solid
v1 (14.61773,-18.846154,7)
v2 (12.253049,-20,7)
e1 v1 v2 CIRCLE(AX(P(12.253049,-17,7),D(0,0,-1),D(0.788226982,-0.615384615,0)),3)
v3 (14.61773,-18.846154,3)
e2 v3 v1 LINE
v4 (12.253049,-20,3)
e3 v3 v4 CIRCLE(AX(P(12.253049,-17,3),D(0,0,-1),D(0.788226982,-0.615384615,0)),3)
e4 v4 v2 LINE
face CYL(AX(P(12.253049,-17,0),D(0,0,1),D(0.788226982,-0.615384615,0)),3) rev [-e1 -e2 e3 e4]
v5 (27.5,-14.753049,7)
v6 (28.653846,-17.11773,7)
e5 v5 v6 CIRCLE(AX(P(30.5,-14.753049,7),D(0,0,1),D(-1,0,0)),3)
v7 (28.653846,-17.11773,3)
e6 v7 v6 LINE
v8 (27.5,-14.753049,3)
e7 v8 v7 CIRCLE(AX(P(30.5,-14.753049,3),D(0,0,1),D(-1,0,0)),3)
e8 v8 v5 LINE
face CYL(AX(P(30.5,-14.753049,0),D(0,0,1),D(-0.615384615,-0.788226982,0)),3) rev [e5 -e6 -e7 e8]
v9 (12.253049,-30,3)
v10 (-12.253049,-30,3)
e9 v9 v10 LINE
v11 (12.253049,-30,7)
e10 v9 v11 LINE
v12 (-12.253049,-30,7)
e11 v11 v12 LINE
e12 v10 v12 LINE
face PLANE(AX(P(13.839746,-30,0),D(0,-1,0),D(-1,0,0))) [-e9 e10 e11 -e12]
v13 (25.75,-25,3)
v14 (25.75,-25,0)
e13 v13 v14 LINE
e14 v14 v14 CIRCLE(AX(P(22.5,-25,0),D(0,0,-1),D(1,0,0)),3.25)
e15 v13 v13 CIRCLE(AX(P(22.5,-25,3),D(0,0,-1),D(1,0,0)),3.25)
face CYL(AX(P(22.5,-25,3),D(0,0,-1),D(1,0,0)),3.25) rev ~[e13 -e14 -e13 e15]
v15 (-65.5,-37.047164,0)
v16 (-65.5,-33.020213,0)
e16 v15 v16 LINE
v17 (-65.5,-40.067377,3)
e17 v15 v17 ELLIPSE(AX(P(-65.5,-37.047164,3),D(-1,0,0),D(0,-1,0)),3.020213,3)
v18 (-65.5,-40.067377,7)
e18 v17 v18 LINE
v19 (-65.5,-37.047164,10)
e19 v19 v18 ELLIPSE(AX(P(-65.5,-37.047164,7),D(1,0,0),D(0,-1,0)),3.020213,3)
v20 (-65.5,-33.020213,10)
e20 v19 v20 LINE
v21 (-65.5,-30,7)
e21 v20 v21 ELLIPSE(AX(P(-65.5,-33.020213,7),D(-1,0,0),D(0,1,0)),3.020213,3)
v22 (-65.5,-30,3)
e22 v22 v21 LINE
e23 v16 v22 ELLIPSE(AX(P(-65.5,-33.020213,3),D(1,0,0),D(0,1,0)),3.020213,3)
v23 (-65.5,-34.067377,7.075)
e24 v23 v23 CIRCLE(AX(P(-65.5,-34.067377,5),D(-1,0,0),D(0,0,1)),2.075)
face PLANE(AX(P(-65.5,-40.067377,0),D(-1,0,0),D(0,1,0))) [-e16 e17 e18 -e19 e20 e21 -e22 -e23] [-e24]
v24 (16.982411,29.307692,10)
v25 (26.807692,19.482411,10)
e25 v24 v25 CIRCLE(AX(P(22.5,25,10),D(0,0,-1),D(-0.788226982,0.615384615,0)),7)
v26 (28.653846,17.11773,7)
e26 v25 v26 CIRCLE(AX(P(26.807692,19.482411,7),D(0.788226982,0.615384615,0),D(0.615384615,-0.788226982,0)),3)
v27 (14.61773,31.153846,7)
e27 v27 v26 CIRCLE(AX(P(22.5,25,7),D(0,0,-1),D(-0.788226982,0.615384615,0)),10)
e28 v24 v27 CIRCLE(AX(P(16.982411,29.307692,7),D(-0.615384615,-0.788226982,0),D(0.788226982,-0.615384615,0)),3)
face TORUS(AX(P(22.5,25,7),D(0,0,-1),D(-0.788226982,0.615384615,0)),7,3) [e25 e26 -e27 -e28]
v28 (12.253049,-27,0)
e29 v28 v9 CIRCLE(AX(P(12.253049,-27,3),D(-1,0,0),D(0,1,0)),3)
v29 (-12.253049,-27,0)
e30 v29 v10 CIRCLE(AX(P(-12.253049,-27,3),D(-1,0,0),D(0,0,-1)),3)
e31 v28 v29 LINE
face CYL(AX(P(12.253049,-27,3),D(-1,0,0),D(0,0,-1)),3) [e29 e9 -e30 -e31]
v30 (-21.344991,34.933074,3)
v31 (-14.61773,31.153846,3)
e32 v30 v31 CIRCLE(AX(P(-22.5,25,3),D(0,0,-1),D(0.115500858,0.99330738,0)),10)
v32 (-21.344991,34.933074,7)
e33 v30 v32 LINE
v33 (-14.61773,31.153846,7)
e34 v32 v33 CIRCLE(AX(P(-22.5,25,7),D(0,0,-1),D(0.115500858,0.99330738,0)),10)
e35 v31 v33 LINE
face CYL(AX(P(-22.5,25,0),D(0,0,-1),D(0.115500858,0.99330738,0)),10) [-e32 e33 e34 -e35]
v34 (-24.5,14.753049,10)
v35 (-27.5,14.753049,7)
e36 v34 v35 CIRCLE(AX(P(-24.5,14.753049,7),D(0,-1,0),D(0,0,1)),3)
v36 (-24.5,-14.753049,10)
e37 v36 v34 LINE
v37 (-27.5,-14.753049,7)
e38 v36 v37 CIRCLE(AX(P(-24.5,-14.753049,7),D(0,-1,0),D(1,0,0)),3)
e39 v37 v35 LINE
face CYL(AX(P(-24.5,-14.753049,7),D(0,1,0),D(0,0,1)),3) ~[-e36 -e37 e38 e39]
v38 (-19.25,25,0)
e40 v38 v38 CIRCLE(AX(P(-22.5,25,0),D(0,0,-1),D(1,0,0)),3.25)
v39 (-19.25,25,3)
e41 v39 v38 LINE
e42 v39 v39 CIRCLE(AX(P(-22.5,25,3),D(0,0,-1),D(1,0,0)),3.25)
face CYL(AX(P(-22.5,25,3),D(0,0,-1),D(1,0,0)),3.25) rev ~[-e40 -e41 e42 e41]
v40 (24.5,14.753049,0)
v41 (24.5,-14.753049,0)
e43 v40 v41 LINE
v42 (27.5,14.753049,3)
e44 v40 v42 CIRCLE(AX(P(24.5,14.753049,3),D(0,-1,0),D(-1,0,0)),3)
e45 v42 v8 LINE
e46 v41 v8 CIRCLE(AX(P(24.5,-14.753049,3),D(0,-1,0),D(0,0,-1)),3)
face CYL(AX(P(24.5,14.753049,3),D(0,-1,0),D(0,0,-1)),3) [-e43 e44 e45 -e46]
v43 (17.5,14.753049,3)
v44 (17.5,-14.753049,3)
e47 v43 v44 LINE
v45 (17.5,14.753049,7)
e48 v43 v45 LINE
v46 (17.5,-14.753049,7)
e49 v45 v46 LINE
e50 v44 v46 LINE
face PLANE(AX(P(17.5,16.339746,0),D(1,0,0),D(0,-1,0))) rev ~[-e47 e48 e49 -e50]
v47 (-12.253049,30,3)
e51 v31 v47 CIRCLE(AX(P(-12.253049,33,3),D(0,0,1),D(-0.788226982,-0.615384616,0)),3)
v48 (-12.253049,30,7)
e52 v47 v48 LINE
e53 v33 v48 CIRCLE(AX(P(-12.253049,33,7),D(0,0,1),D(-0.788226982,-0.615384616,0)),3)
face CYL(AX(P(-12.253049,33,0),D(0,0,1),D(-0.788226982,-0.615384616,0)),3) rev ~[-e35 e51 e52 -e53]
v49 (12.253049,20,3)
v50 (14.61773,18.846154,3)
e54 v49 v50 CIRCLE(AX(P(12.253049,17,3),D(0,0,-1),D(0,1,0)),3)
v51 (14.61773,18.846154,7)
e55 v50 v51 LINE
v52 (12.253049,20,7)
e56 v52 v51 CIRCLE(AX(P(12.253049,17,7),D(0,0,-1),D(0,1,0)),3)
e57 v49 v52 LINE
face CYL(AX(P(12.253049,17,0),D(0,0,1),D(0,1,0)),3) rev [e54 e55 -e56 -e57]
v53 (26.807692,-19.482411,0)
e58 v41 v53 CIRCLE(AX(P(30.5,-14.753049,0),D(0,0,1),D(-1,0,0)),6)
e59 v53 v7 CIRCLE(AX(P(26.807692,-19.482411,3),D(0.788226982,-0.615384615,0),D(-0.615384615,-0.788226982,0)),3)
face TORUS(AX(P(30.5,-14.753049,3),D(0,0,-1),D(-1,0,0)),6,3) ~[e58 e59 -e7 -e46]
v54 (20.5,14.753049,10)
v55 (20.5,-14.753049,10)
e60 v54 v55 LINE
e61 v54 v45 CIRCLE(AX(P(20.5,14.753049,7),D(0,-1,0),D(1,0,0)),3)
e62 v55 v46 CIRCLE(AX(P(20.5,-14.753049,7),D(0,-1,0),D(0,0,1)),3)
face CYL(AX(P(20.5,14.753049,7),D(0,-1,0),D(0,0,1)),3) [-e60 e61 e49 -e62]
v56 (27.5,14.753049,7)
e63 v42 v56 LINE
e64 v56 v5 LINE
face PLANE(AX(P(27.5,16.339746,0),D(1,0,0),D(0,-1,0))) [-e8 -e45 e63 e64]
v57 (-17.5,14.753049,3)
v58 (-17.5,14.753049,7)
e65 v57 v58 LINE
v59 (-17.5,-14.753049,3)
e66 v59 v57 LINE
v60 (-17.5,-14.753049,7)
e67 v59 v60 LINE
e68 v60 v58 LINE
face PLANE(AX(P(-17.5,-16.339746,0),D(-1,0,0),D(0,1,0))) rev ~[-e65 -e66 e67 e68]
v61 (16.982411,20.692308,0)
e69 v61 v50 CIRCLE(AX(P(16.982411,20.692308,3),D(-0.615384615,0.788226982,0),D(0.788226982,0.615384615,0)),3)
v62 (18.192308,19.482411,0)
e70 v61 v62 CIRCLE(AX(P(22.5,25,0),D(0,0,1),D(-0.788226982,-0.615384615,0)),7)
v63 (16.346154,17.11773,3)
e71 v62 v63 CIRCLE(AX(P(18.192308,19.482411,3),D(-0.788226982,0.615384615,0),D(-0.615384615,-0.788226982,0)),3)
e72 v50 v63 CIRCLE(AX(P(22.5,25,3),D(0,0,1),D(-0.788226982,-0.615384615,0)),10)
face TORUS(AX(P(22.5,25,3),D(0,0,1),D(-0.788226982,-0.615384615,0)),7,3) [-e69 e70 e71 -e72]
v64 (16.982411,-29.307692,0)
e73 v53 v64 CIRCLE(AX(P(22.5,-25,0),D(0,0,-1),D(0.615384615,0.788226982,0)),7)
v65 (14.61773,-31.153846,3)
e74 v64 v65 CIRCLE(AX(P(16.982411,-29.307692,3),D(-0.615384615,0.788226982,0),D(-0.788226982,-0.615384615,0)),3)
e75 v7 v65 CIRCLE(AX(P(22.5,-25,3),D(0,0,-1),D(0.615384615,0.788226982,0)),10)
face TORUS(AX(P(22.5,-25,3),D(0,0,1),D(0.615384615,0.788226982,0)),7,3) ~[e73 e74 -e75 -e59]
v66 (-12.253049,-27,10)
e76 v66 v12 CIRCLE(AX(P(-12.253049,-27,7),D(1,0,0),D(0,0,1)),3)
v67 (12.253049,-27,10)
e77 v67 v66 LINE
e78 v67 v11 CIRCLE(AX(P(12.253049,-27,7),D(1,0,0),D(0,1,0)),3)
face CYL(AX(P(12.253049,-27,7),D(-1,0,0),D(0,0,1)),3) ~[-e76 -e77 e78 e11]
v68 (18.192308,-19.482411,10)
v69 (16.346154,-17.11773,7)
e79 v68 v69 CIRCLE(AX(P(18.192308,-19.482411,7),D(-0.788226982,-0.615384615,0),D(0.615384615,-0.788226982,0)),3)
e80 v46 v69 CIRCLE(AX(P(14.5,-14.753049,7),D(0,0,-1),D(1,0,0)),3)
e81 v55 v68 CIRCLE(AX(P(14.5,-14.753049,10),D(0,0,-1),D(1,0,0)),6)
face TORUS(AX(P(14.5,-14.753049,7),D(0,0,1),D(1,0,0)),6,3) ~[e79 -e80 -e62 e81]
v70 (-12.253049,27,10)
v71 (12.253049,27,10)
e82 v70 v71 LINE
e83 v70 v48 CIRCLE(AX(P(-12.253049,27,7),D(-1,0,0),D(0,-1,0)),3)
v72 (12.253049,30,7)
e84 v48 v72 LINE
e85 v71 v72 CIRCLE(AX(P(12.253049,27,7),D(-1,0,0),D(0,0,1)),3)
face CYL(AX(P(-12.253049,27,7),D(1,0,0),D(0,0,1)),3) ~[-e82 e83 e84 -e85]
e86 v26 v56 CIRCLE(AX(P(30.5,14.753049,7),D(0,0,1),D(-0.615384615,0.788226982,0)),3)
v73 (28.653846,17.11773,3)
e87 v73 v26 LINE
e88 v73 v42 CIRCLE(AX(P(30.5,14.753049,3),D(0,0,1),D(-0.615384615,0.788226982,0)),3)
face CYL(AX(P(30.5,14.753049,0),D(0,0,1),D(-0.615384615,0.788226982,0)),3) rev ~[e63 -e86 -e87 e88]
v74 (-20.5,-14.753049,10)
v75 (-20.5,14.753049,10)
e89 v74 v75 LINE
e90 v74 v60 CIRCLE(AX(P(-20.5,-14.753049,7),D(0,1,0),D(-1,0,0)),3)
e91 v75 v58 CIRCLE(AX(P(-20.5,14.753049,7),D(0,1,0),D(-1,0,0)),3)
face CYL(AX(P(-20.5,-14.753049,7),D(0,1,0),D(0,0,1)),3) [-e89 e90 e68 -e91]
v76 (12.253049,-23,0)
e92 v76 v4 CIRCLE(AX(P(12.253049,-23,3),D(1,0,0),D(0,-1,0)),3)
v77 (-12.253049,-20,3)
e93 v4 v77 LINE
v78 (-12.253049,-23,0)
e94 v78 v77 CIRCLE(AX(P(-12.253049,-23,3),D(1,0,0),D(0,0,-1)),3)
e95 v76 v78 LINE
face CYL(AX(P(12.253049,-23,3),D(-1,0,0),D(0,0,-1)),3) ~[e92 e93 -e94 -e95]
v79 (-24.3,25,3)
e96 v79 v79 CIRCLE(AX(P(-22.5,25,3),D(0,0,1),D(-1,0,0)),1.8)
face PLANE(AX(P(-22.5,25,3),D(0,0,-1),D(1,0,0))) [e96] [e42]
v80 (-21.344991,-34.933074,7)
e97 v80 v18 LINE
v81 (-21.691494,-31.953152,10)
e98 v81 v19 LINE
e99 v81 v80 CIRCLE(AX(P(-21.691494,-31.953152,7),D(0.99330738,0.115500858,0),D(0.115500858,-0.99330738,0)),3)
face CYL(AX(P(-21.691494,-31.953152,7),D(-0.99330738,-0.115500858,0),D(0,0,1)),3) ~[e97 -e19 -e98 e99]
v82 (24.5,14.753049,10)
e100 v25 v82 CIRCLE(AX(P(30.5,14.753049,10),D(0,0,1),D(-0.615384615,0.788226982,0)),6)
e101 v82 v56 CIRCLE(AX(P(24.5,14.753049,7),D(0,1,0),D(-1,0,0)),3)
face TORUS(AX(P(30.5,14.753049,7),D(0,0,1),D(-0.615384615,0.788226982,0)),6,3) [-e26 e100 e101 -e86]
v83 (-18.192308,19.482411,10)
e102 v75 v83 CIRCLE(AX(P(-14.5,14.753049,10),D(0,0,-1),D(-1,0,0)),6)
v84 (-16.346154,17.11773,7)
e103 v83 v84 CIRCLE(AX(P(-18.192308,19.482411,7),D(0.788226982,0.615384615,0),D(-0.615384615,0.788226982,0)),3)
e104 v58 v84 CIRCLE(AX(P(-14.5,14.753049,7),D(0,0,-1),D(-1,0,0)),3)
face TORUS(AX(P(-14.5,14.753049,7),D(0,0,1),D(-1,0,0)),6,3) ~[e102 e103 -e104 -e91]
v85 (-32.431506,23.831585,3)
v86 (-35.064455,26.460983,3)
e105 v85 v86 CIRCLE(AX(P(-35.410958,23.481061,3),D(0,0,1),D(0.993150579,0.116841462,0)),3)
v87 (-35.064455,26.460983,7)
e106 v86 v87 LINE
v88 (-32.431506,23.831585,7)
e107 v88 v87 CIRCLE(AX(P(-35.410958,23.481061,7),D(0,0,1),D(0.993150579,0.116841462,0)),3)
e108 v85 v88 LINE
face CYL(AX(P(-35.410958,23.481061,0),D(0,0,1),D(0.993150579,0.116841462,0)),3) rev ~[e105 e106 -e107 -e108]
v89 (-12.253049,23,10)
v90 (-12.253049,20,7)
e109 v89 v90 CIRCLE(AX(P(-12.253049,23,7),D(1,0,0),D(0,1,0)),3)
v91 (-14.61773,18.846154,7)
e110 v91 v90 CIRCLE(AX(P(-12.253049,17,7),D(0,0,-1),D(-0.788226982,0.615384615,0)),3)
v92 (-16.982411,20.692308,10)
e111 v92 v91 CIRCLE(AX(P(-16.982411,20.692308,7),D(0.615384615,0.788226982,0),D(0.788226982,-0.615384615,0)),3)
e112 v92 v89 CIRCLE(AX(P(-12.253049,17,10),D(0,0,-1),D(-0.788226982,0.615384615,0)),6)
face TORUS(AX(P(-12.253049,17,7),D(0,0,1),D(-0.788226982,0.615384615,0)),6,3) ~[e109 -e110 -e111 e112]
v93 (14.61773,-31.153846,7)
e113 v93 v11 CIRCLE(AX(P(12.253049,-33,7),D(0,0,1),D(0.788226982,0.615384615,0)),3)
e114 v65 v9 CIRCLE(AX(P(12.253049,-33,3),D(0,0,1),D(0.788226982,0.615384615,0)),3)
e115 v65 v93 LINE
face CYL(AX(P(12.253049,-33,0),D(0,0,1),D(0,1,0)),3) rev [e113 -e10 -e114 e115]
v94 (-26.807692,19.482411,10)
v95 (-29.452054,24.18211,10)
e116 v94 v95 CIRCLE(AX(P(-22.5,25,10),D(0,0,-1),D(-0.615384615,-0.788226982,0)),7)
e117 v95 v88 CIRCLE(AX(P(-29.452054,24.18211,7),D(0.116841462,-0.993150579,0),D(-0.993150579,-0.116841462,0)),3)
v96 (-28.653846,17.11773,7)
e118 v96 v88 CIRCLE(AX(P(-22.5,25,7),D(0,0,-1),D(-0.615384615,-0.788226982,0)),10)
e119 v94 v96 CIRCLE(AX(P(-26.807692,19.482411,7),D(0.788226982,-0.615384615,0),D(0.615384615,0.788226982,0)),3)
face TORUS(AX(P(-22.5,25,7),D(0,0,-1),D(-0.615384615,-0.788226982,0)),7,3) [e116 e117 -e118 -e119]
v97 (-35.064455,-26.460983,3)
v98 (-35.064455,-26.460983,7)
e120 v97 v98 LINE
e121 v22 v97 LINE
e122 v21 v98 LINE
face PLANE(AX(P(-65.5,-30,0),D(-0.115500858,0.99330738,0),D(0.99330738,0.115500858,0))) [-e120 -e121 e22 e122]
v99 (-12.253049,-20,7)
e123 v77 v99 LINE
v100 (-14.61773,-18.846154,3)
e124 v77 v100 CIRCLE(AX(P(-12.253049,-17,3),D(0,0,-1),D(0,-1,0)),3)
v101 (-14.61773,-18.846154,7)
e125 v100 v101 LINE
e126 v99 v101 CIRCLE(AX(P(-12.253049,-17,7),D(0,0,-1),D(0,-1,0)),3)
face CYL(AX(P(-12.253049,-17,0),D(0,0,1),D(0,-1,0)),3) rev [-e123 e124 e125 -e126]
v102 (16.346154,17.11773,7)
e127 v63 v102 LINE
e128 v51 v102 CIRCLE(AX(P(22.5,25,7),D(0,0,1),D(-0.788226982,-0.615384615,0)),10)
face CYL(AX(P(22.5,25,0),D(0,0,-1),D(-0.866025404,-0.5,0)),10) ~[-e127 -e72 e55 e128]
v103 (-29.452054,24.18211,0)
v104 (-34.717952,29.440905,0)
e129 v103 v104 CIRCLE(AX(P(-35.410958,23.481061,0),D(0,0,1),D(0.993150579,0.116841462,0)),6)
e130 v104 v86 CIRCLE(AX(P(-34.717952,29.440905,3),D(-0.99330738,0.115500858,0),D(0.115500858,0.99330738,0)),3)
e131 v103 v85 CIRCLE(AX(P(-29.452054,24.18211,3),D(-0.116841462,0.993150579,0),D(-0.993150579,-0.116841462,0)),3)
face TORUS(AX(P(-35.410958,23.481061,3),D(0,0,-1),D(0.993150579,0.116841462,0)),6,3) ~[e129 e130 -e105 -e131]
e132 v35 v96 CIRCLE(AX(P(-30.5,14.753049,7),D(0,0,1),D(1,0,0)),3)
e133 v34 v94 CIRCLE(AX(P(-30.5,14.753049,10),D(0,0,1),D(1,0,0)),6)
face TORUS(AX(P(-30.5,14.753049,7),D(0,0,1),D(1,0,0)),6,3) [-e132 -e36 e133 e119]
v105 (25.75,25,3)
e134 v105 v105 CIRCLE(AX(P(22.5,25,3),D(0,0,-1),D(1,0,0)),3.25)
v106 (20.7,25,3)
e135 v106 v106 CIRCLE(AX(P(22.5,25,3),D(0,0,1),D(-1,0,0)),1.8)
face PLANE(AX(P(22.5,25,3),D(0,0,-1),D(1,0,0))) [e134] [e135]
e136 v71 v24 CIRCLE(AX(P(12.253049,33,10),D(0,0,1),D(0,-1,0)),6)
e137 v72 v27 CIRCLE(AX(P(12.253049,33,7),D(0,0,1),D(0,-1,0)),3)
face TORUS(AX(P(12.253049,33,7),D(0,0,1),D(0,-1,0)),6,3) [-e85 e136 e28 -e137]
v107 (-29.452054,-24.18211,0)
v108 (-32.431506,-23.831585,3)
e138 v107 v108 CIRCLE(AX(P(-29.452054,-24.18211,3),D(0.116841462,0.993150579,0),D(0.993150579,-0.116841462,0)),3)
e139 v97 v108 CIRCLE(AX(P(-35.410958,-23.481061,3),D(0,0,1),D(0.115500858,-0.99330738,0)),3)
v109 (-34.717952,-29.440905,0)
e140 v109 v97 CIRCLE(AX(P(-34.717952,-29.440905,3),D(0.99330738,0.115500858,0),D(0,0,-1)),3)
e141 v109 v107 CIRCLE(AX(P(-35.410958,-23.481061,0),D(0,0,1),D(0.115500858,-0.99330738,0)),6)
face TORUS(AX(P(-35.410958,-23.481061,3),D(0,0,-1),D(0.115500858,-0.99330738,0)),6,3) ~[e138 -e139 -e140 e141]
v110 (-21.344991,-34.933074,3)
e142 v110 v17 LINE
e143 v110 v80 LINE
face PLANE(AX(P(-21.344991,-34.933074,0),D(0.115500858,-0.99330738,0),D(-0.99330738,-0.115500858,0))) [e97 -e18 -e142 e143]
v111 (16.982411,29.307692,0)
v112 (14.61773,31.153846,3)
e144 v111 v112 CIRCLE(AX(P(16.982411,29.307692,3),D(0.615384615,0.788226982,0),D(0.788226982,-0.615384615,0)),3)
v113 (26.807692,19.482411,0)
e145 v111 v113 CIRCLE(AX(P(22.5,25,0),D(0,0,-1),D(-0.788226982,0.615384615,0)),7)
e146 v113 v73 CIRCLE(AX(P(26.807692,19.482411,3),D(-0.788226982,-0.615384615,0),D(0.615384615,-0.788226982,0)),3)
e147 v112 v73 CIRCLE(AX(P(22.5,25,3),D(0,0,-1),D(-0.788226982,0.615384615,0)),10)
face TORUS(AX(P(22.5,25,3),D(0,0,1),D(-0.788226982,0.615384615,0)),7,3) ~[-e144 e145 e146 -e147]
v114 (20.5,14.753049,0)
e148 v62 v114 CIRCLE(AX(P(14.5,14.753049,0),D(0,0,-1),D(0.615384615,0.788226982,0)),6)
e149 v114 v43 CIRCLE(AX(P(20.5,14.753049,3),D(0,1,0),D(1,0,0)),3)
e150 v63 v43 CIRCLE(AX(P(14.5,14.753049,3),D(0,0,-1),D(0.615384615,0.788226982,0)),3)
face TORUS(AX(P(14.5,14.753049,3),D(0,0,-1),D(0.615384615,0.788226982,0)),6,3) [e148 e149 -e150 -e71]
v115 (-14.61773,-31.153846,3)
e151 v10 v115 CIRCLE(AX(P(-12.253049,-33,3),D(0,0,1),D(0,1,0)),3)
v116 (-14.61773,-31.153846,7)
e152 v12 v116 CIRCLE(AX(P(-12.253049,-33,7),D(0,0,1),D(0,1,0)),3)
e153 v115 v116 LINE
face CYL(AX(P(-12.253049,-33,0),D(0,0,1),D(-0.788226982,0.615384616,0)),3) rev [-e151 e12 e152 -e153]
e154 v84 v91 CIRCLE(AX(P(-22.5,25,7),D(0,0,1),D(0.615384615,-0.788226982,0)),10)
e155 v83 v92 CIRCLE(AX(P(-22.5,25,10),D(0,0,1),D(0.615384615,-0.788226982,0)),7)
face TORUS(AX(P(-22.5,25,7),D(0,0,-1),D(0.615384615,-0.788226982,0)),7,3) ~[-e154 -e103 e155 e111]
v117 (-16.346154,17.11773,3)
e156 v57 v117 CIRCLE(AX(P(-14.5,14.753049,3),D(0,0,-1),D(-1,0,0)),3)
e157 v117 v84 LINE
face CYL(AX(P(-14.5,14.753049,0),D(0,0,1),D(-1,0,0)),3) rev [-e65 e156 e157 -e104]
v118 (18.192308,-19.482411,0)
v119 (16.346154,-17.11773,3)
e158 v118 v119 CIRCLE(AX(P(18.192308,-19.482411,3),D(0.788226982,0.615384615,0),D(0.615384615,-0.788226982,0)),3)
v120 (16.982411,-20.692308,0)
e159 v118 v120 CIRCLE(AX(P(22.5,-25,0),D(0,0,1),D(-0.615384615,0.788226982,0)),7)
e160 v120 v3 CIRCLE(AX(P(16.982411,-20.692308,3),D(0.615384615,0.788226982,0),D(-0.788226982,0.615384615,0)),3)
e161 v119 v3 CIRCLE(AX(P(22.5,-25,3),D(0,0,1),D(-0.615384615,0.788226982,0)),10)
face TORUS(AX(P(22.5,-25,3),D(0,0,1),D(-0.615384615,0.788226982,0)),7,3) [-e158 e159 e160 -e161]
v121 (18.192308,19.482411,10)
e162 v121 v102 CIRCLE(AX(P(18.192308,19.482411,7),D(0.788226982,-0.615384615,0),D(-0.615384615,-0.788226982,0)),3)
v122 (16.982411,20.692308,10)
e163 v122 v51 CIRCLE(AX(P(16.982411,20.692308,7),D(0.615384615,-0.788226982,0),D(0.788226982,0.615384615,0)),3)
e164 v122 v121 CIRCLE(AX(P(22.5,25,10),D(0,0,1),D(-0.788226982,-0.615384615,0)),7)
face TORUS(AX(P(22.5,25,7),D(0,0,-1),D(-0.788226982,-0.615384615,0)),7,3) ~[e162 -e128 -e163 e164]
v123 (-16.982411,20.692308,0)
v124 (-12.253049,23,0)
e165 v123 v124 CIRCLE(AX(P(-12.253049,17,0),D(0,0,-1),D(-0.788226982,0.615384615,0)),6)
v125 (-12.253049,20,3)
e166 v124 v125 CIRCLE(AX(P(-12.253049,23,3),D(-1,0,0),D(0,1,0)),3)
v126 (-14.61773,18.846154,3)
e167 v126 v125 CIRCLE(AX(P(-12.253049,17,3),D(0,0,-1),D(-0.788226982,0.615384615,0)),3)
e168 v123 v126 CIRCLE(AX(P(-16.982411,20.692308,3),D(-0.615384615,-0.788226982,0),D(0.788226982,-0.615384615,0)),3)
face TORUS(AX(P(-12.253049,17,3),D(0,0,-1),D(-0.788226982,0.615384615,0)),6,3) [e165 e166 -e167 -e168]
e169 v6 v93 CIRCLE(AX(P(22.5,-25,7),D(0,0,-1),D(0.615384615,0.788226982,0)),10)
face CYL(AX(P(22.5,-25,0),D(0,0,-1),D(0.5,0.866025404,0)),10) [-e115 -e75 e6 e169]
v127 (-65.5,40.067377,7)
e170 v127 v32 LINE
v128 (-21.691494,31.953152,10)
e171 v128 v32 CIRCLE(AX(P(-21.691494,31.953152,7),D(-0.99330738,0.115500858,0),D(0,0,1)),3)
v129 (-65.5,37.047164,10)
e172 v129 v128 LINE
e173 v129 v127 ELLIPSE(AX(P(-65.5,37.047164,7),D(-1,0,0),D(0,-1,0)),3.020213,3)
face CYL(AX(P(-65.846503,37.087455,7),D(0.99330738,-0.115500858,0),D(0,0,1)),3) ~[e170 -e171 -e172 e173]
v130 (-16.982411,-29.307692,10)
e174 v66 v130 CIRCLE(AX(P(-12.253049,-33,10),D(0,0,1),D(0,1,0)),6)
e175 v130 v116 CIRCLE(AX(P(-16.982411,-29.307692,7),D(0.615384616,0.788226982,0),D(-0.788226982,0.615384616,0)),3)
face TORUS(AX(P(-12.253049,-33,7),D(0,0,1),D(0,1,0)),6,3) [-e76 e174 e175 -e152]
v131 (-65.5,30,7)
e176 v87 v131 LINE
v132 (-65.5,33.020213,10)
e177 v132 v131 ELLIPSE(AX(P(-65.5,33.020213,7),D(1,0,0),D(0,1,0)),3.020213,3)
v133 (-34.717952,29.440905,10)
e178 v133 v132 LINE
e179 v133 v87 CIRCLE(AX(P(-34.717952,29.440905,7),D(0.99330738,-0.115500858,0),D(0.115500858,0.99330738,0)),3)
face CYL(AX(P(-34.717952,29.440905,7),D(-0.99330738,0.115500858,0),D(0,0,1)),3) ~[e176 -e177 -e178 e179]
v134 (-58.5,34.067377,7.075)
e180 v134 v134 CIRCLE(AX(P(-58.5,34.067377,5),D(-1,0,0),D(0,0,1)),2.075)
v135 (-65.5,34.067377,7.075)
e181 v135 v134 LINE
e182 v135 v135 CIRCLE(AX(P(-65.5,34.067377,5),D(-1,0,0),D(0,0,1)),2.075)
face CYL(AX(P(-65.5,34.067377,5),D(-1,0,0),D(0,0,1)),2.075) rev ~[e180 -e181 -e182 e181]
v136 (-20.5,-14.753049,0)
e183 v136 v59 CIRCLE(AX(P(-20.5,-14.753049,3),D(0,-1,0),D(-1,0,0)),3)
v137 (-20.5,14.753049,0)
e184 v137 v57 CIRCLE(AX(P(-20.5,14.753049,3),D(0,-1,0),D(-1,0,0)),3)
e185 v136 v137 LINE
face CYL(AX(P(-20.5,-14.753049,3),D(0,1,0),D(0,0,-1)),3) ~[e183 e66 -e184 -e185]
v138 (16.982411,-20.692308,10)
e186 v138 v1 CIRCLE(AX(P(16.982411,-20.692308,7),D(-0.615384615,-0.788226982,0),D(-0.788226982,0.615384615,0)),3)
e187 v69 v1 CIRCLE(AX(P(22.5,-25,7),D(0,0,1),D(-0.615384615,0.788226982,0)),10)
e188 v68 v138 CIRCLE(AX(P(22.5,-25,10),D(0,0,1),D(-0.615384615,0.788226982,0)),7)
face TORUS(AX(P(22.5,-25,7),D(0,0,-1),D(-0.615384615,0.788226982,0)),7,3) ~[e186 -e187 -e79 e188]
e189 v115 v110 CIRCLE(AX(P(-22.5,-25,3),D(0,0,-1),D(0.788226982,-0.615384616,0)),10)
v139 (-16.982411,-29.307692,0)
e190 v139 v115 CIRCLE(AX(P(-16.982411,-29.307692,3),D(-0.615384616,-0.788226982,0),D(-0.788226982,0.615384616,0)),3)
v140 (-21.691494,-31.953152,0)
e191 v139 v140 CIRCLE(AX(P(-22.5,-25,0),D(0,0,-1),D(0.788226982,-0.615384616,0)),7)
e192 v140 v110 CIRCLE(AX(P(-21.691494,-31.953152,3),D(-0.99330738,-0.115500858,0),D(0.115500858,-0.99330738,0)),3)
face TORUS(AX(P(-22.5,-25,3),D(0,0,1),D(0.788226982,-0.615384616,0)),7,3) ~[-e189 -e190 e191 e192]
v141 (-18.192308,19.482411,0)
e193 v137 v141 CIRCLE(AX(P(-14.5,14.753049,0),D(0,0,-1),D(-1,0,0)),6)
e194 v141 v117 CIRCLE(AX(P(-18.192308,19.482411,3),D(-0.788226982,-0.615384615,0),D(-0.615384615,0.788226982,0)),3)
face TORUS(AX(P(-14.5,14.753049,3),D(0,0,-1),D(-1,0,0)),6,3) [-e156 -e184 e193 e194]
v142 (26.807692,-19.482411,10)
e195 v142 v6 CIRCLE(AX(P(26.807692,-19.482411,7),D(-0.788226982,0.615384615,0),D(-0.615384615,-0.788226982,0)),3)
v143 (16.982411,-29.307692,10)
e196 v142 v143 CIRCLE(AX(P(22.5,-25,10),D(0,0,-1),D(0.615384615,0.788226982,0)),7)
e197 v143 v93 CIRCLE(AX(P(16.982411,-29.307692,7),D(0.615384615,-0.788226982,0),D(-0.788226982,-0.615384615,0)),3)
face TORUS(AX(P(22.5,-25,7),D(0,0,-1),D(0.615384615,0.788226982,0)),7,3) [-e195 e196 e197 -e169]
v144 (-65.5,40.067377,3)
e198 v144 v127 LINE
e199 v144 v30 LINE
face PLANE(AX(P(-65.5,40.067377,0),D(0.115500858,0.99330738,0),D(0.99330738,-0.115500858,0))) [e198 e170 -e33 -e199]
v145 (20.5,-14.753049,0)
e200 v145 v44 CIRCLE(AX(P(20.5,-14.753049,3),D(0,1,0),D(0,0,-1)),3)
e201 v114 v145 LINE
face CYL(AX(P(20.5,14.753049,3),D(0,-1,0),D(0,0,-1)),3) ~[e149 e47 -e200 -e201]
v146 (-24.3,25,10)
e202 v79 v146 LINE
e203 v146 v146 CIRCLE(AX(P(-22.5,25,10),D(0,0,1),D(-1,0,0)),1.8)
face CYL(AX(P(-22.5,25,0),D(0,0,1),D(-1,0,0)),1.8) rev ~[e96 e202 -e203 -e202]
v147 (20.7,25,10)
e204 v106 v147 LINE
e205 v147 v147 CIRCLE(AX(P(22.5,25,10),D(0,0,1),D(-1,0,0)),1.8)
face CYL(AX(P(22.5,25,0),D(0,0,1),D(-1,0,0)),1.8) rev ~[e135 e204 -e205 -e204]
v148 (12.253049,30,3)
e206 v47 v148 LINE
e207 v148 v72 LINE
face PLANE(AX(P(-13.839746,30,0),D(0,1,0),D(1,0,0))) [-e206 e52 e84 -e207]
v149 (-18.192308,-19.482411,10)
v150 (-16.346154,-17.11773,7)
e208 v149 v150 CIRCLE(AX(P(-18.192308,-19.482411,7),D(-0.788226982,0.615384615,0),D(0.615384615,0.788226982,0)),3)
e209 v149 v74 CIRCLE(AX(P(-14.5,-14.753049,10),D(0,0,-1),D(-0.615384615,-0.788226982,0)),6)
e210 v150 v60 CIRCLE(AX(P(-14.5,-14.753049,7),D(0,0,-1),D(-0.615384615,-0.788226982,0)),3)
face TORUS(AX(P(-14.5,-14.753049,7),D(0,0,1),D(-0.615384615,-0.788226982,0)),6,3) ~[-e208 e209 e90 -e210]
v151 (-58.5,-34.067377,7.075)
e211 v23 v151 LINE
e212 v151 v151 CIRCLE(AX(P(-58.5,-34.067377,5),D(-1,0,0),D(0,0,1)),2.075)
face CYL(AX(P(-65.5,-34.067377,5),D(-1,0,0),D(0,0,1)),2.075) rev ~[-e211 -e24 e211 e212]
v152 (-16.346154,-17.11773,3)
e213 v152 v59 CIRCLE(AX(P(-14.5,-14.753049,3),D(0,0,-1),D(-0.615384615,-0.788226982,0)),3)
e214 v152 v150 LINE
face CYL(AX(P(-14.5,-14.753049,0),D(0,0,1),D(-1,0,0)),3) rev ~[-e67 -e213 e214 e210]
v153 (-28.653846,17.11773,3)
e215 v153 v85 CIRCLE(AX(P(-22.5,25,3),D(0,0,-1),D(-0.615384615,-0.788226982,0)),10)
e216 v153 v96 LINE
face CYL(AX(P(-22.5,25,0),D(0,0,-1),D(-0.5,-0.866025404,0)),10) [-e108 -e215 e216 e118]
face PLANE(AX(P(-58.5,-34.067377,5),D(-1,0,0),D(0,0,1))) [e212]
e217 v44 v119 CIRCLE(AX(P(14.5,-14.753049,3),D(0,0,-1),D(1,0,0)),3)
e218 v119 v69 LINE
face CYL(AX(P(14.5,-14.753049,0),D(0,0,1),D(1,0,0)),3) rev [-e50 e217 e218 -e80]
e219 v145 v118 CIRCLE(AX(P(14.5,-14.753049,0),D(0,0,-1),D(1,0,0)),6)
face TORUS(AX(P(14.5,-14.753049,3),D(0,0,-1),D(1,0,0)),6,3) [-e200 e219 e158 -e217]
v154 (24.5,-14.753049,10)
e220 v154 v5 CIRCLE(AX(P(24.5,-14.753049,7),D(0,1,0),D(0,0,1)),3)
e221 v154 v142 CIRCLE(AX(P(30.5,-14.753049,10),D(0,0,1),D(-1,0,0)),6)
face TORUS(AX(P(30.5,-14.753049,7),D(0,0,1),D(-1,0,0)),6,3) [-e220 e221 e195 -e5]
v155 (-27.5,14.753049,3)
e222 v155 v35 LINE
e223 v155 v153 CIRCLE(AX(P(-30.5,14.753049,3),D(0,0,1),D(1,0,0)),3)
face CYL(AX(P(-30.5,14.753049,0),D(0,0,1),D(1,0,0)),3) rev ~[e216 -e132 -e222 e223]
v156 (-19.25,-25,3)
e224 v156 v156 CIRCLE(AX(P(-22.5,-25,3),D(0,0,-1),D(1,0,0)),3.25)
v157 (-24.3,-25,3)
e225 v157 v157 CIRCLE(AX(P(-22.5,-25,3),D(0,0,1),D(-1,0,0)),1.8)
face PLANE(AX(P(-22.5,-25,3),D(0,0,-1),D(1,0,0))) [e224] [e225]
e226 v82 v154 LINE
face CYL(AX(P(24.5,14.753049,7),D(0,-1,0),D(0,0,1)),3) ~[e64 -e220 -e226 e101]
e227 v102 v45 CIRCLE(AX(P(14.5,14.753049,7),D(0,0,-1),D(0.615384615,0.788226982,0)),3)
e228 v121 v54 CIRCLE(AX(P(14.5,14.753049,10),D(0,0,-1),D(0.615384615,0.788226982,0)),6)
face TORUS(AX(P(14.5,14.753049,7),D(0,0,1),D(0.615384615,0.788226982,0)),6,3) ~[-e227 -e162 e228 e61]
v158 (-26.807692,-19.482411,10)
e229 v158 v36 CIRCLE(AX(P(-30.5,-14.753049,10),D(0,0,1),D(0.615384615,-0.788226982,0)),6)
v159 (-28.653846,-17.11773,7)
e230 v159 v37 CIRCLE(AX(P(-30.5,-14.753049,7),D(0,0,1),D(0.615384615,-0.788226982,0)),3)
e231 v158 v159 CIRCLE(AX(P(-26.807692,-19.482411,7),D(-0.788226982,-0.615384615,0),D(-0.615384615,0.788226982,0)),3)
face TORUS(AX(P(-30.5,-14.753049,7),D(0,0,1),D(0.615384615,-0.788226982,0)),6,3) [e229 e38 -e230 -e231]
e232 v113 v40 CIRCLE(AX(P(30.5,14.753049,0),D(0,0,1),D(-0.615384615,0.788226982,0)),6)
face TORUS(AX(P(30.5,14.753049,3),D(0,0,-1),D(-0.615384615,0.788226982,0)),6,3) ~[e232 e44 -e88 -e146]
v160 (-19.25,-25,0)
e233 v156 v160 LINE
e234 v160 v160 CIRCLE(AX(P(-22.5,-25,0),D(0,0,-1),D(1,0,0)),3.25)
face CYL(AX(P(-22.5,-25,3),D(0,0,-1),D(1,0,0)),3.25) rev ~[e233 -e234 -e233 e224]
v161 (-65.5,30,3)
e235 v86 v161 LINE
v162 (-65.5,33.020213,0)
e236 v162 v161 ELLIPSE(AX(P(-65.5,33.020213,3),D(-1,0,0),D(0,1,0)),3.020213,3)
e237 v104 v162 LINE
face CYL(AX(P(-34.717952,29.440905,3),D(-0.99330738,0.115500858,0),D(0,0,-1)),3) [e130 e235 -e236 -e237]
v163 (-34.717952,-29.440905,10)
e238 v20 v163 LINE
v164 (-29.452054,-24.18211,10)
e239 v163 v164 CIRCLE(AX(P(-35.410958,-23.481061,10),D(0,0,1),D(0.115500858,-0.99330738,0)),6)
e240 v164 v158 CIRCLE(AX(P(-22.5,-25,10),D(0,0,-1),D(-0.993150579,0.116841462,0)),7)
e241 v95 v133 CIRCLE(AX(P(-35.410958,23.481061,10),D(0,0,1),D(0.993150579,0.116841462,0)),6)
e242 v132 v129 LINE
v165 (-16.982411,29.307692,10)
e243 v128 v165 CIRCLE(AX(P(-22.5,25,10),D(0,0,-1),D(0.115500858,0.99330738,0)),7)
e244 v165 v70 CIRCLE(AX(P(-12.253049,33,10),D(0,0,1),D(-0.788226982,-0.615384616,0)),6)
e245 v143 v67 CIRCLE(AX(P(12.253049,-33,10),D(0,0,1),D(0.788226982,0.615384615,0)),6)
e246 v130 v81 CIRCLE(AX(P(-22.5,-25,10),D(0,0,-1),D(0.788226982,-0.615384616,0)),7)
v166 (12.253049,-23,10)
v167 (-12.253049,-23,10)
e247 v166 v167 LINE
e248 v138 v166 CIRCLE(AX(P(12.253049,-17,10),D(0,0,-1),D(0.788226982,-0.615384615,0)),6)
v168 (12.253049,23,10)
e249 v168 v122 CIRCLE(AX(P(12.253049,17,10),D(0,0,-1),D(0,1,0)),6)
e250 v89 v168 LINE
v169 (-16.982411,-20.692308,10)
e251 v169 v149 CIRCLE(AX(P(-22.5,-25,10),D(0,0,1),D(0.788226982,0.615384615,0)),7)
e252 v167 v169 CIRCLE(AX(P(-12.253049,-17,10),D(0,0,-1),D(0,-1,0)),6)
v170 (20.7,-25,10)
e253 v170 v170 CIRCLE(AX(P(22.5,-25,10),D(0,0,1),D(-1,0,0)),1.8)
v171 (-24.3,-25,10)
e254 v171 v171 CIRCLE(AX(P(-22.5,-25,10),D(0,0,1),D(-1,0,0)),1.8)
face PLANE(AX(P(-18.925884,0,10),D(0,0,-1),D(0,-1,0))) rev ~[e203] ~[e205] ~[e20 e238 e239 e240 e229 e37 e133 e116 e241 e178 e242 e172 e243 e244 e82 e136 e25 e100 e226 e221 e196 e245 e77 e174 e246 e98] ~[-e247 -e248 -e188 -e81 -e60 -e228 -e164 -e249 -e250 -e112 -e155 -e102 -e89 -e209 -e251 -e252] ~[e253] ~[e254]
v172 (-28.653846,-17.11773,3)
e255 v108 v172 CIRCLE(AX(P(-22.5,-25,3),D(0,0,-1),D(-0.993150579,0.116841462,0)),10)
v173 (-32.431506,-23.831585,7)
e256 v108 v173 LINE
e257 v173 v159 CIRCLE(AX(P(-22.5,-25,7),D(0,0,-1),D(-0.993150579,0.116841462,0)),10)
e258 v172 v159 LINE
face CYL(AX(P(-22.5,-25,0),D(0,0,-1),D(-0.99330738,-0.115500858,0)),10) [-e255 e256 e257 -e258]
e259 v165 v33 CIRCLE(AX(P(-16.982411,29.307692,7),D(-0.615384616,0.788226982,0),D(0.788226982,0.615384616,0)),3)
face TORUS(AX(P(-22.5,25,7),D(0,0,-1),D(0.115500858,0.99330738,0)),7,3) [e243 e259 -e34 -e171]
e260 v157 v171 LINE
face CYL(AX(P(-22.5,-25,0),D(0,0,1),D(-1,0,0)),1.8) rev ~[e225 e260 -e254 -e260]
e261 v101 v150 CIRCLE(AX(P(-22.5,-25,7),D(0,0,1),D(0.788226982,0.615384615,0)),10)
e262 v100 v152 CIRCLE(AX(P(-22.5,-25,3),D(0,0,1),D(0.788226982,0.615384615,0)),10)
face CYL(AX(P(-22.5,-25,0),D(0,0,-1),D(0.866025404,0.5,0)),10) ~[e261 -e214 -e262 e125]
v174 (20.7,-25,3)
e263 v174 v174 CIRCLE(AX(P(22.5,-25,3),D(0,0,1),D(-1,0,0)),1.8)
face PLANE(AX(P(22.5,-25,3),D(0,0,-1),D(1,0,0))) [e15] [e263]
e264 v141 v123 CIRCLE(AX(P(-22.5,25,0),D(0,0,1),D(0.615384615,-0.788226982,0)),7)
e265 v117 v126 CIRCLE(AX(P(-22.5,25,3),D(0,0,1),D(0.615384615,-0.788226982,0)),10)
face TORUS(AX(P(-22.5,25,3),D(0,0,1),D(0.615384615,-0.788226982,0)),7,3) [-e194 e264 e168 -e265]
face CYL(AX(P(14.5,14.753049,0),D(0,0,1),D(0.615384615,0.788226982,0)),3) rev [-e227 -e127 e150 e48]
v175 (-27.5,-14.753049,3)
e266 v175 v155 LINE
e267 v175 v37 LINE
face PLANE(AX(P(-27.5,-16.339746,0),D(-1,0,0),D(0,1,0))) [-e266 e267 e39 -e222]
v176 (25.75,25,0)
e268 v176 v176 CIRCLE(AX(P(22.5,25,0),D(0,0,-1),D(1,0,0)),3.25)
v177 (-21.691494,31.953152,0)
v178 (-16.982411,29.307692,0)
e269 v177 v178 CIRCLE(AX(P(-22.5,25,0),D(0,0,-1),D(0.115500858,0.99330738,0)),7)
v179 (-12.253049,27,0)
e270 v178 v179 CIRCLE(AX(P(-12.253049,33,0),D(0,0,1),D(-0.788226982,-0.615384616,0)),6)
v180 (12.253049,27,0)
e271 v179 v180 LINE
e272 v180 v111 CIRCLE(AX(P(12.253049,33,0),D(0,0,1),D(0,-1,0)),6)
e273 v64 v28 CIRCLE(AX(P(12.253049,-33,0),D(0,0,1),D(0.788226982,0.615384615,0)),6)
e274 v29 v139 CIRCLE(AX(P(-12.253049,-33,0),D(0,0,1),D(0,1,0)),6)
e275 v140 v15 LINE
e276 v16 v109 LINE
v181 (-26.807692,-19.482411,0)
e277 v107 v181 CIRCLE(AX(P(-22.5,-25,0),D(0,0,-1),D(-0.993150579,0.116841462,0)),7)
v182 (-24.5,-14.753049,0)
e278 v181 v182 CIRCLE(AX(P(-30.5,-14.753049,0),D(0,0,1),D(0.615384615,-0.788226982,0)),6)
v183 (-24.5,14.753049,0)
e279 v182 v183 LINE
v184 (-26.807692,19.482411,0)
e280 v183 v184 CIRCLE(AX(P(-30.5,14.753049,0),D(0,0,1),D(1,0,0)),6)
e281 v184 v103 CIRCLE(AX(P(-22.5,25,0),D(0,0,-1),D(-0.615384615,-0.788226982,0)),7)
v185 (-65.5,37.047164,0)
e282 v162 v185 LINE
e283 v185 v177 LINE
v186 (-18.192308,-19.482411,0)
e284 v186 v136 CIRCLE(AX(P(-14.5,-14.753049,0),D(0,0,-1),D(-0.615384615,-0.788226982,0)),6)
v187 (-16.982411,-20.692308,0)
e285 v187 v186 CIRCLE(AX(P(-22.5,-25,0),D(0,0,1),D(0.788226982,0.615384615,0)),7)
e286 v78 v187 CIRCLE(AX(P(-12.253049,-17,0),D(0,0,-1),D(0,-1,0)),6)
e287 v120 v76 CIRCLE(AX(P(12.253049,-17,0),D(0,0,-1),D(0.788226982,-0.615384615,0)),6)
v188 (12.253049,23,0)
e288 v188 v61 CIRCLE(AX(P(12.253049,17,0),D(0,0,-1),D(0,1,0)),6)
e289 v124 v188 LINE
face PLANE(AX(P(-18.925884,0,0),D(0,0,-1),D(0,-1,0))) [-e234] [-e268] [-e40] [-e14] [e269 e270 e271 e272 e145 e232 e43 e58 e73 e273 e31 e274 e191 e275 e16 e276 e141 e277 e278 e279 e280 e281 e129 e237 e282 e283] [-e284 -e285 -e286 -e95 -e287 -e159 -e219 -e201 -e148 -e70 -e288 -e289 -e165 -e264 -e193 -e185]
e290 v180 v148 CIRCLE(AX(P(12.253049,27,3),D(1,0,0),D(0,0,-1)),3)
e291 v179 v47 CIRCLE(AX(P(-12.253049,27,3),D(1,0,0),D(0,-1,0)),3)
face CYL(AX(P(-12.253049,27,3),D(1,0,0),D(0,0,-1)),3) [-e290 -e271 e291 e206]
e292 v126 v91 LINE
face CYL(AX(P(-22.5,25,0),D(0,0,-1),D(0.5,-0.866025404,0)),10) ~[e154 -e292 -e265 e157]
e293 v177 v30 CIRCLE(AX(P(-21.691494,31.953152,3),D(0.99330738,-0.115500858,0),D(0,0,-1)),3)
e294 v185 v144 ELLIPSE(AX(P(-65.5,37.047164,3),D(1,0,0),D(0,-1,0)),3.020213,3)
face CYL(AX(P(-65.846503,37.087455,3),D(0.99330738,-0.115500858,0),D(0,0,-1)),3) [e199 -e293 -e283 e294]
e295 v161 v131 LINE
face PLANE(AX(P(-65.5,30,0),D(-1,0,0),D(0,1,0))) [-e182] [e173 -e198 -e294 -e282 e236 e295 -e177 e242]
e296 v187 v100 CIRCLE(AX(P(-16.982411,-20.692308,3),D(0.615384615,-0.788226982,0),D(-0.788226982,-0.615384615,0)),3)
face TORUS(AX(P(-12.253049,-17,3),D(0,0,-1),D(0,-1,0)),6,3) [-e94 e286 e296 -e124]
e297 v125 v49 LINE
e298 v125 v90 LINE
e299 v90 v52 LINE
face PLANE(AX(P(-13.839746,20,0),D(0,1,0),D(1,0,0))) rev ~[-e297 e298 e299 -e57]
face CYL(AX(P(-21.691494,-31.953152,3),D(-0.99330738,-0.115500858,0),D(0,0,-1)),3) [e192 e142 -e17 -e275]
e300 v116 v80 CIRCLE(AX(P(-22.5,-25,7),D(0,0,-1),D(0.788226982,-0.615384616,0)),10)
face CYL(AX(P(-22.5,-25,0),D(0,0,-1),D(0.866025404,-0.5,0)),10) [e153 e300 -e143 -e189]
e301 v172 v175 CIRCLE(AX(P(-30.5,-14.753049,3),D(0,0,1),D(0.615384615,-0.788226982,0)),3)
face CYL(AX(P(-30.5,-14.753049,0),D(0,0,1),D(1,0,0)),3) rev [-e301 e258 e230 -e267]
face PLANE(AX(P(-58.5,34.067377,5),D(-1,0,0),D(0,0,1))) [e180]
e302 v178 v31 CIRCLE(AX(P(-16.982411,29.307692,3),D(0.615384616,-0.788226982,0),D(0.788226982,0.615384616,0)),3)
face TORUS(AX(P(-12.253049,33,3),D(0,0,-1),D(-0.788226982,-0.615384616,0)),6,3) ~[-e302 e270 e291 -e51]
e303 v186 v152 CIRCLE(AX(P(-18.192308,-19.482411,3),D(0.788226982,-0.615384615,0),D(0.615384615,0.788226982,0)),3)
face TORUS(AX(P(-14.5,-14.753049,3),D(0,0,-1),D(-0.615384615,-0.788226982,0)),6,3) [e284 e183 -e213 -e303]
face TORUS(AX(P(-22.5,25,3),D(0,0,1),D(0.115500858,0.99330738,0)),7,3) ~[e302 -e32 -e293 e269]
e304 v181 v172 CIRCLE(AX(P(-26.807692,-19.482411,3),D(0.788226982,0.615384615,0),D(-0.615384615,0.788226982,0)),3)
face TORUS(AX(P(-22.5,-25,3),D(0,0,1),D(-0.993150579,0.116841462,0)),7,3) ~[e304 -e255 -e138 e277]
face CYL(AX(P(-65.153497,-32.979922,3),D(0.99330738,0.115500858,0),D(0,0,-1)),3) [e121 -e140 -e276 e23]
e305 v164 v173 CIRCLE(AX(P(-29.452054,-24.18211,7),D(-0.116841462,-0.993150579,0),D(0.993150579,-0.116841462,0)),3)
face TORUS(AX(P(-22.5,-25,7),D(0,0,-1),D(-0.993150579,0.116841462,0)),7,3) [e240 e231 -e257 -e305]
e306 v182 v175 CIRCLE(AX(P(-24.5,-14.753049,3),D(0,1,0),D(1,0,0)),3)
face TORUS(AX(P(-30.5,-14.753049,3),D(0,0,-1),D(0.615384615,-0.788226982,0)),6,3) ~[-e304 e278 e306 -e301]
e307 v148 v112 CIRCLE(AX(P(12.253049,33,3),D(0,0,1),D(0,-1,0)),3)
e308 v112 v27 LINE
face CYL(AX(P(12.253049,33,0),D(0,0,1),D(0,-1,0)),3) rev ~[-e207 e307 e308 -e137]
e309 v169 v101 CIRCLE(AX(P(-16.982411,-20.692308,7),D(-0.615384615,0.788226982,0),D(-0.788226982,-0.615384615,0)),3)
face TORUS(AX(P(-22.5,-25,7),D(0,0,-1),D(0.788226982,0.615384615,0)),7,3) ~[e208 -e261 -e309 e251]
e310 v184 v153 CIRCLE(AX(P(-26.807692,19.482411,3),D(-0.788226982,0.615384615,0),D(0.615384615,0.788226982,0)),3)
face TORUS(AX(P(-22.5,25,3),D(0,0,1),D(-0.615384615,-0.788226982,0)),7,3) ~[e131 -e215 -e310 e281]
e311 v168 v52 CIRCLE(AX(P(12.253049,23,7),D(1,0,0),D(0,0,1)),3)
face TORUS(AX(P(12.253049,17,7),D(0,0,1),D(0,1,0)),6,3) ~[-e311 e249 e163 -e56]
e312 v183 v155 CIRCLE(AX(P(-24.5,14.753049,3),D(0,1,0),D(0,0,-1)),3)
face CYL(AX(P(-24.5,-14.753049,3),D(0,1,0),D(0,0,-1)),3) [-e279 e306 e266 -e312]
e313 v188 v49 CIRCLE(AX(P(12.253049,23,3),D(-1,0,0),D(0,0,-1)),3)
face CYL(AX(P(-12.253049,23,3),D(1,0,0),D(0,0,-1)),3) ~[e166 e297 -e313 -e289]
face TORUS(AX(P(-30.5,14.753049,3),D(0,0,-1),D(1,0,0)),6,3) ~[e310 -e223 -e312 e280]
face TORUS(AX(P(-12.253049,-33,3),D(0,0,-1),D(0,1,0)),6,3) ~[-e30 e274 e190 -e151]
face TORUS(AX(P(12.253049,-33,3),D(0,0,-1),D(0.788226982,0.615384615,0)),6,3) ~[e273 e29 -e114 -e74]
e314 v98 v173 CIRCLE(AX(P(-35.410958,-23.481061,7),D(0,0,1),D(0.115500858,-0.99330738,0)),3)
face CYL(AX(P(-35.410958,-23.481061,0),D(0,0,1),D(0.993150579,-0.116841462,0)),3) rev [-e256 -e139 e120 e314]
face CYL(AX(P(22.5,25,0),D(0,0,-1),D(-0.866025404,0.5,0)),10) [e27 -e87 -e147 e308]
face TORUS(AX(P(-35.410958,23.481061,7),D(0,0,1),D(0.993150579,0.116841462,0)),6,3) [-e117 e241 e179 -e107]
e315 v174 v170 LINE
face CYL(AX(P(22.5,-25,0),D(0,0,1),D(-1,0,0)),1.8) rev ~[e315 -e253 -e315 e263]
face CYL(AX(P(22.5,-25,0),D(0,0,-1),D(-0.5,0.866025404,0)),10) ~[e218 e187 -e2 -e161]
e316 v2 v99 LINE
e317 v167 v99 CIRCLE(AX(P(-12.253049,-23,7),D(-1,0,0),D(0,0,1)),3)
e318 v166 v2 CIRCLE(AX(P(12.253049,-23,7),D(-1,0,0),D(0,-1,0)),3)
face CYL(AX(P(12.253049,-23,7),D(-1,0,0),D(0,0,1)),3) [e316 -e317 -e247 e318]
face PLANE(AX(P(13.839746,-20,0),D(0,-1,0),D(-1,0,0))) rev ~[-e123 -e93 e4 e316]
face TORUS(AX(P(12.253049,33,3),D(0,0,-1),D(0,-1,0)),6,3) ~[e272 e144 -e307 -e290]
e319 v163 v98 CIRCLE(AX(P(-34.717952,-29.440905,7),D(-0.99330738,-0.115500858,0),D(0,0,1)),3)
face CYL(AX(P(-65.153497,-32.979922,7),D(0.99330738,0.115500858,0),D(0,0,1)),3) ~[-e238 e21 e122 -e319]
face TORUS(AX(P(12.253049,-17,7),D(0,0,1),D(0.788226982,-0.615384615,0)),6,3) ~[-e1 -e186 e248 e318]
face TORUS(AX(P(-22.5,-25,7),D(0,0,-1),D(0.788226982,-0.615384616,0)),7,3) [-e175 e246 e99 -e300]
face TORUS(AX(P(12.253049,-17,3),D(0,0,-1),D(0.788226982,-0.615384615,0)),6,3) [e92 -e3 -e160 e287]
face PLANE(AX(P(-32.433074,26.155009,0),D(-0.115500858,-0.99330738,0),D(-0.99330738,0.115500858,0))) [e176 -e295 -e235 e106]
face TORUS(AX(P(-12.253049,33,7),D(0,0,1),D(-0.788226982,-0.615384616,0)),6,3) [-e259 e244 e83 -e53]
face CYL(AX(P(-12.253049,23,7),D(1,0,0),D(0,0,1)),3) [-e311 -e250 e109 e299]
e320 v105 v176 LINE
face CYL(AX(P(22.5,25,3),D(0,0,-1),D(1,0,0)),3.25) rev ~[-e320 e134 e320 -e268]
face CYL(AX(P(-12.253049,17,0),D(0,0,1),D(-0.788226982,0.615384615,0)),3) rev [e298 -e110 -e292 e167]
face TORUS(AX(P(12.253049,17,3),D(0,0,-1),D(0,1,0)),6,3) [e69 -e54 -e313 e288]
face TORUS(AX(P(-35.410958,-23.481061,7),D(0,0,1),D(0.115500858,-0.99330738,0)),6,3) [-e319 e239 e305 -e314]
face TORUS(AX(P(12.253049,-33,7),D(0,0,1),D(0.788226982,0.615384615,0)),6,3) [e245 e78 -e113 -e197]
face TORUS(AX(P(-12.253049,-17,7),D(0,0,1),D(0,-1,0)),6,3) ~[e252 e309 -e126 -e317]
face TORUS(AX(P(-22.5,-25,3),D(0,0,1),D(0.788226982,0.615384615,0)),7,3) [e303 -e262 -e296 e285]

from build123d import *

# Parameters (mm, degrees)
BOSS_EXTRUDE1_DEPTH            = 10
FILLET1_R                      = 3
FILLET2_R                      = 3
SKETCH2_R                      = 2.075
CUT_EXTRUDE1_DEPTH             = 7
CBORE_FOR_M3_SHCS1_D           = 3.6
CBORE_FOR_M3_SHCS1_CBORE_D     = 6.5
CBORE_FOR_M3_SHCS1_CBORE_DEPTH = 3


with BuildPart() as part:
    # Sketch1 → Boss-Extrude1 (new body)
    with BuildSketch(Plane(origin=(0, 0, 0), x_dir=(0, 1, 0), z_dir=(0, 0, 1))):
        with BuildLine():
            Line((-16.339745962, 27.5), (16.339745962, 27.5))
            ThreePointArc((16.339745962, 27.5), (20.509345078, 31.434988437), (26.155008582, 32.433073803))
            Line((26.155008582, 32.433073803), (30, 65.5))
            Line((30, 65.5), (40.067377126, 65.5))
            Line((40.067377126, 65.5), (34.933073803, 21.344991418))
            ThreePointArc((34.933073803, 21.344991418), (33.35651546, 17.007400492), (30, 13.839745962))
            Line((30, 13.839745962), (30, -13.839745962))
            ThreePointArc((30, -13.839745962), (32.071067812, -29.571067812), (16.339745962, -27.5))
            Line((16.339745962, -27.5), (-16.339745962, -27.5))
            ThreePointArc((-16.339745962, -27.5), (-32.071067812, -29.571067812), (-30, -13.839745962))
            Line((-30, -13.839745962), (-30, 13.839745962))
            ThreePointArc((-30, 13.839745962), (-33.35651546, 17.007400492), (-34.933073803, 21.344991418))
            Line((-34.933073803, 21.344991418), (-40.067377126, 65.5))
            Line((-40.067377126, 65.5), (-30, 65.5))
            Line((-30, 65.5), (-26.155008582, 32.433073803))
            ThreePointArc((-26.155008582, 32.433073803), (-20.509345078, 31.434988437), (-16.339745962, 27.5))
        make_face()
        with BuildLine():
            Line((-16.339745962, 17.5), (16.339745962, 17.5))
            ThreePointArc((16.339745962, 17.5), (17.928932188, 15.428932188), (20, 13.839745962))
            Line((20, 13.839745962), (20, -13.839745962))
            ThreePointArc((20, -13.839745962), (17.928932188, -15.428932188), (16.339745962, -17.5))
            Line((16.339745962, -17.5), (-16.339745962, -17.5))
            ThreePointArc((-16.339745962, -17.5), (-17.928932188, -15.428932188), (-20, -13.839745962))
            Line((-20, -13.839745962), (-20, 13.839745962))
            ThreePointArc((-20, 13.839745962), (-17.928932188, 15.428932188), (-16.339745962, 17.5))
        make_face(mode=Mode.SUBTRACT)
    extrude(amount=BOSS_EXTRUDE1_DEPTH)

    # Fillet1
    fillet1_edges = [part.edges().sort_by_distance(p)[0] for p in [
        (-27.5, -16.339745962, 5),
        (-27.5, 16.339745962, 5),
        (-32.433073803, 26.155008582, 5),
        (-13.839745962, 30, 5),
        (13.839745962, 30, 5),
        (27.5, 16.339745962, 5),
        (27.5, -16.339745962, 5),
        (13.839745962, -30, 5),
        (-13.839745962, -30, 5),
        (-32.433073803, -26.155008582, 5),
        (-17.5, -16.339745962, 5),
        (-13.839745962, -20, 5),
        (13.839745962, -20, 5),
        (17.5, -16.339745962, 5),
        (17.5, 16.339745962, 5),
        (13.839745962, 20, 5),
        (-13.839745962, 20, 5),
        (-17.5, 16.339745962, 5),
    ]]
    fillet(fillet1_edges, radius=FILLET1_R)

    # Fillet2
    fillet2_edges = [part.edges().sort_by_distance(p)[0] for p in [
        (-31.215136241, 20.096287091, 0),
        (-31.215136241, 20.096287091, 10),
        (-27.5, 0, 0),
        (-27.5, 0, 10),
        (-31.215136241, -20.096287091, 0),
        (-31.215136241, -20.096287091, 10),
        (-50.282227477, -28.230491567, 0),
        (-50.282227477, -28.230491567, 10),
        (0, -30, 0),
        (0, -30, 10),
        (29.571067812, -32.071067812, 0),
        (29.571067812, -32.071067812, 10),
        (27.5, 0, 0),
        (27.5, 0, 10),
        (-17.196151103, 16.068636263, 0),
        (-17.196151103, 16.068636263, 10),
        (-13.568636263, 19.696151103, 0),
        (-13.568636263, 19.696151103, 10),
        (13.568636263, 19.696151103, 0),
        (13.568636263, 19.696151103, 10),
        (17.196151103, 16.068636263, 0),
        (17.196151103, 16.068636263, 10),
        (17.196151103, -16.068636263, 0),
        (17.196151103, -16.068636263, 10),
        (13.568636263, -19.696151103, 0),
        (13.568636263, -19.696151103, 10),
        (-17.196151103, -16.068636263, 0),
        (-17.196151103, -16.068636263, 10),
        (-13.568636263, -19.696151103, 0),
        (-13.568636263, -19.696151103, 10),
        (-13.568636263, 30.303848897, 0),
        (-13.568636263, 30.303848897, 10),
        (13.568636263, 30.303848897, 0),
        (13.568636263, 30.303848897, 10),
        (-33.291069286, 25.603812472, 0),
        (-33.291069286, 25.603812472, 10),
        (-27.803848897, 16.068636263, 0),
        (-27.803848897, 16.068636263, 10),
        (-27.803848897, -16.068636263, 0),
        (-27.803848897, -16.068636263, 10),
        (-33.291069286, -25.603812472, 0),
        (-33.291069286, -25.603812472, 10),
        (-13.568636263, -30.303848897, 0),
        (-13.568636263, -30.303848897, 10),
        (13.568636263, -30.303848897, 0),
        (13.568636263, -30.303848897, 10),
        (27.803848897, -16.068636263, 0),
        (27.803848897, -16.068636263, 10),
        (27.803848897, 16.068636263, 0),
        (27.803848897, 16.068636263, 10),
        (-50.282227477, 28.230491567, 0),
        (-43.422495709, -37.500225465, 10),
        (-43.422495709, 37.500225465, 0),
        (-17.602169804, -33.718443632, 0),
        (-43.422495709, -37.500225465, 0),
        (-17.602169804, -33.718443632, 10),
        (-43.422495709, 37.500225465, 10),
        (-50.282227477, 28.230491567, 10),
        (-15.428932188, 17.928932188, 0),
        (-15.428932188, 17.928932188, 10),
        (-17.5, 0, 0),
        (-17.5, 0, 10),
        (0, 20, 0),
        (0, 20, 10),
        (15.428932188, 17.928932188, 0),
        (15.428932188, 17.928932188, 10),
        (17.5, 0, 0),
        (17.5, 0, 10),
        (15.428932188, -17.928932188, 0),
        (15.428932188, -17.928932188, 10),
        (0, -20, 0),
        (0, -20, 10),
        (-15.428932188, -17.928932188, 0),
        (-15.428932188, -17.928932188, 10),
        (-17.602169804, 33.718443632, 0),
        (-17.602169804, 33.718443632, 10),
        (0, 30, 0),
        (0, 30, 10),
        (29.571067812, 32.071067812, 0),
        (29.571067812, 32.071067812, 10),
    ]]
    fillet(fillet2_edges, radius=FILLET2_R)

    # Sketch2 → Cut-Extrude1 (cut)
    with BuildSketch(Plane(origin=(-65.5, 0, 0), x_dir=(0, -1, 0), z_dir=(-1, 0, 0))):
        with Locations(Location((34.067377126, 5, 0), (0, 0, 90))):
            Circle(SKETCH2_R)
        with Locations(Location((-34.067377126, 5, 0), (0, 0, 90))):
            Circle(SKETCH2_R)
    extrude(amount=-CUT_EXTRUDE1_DEPTH, mode=Mode.SUBTRACT)

    # CBORE for M3 SHCS1 (through all)
    with Locations(Plane(origin=(0, 0, 0), x_dir=(1, 0, 0), z_dir=(0, 0, -1))):
        with Locations((22.5, 25), (22.5, -25), (-22.5, -25), (-22.5, 25)):
            CounterBoreHole(CBORE_FOR_M3_SHCS1_D / 2, CBORE_FOR_M3_SHCS1_CBORE_D / 2, CBORE_FOR_M3_SHCS1_CBORE_DEPTH)


solid = part.part
